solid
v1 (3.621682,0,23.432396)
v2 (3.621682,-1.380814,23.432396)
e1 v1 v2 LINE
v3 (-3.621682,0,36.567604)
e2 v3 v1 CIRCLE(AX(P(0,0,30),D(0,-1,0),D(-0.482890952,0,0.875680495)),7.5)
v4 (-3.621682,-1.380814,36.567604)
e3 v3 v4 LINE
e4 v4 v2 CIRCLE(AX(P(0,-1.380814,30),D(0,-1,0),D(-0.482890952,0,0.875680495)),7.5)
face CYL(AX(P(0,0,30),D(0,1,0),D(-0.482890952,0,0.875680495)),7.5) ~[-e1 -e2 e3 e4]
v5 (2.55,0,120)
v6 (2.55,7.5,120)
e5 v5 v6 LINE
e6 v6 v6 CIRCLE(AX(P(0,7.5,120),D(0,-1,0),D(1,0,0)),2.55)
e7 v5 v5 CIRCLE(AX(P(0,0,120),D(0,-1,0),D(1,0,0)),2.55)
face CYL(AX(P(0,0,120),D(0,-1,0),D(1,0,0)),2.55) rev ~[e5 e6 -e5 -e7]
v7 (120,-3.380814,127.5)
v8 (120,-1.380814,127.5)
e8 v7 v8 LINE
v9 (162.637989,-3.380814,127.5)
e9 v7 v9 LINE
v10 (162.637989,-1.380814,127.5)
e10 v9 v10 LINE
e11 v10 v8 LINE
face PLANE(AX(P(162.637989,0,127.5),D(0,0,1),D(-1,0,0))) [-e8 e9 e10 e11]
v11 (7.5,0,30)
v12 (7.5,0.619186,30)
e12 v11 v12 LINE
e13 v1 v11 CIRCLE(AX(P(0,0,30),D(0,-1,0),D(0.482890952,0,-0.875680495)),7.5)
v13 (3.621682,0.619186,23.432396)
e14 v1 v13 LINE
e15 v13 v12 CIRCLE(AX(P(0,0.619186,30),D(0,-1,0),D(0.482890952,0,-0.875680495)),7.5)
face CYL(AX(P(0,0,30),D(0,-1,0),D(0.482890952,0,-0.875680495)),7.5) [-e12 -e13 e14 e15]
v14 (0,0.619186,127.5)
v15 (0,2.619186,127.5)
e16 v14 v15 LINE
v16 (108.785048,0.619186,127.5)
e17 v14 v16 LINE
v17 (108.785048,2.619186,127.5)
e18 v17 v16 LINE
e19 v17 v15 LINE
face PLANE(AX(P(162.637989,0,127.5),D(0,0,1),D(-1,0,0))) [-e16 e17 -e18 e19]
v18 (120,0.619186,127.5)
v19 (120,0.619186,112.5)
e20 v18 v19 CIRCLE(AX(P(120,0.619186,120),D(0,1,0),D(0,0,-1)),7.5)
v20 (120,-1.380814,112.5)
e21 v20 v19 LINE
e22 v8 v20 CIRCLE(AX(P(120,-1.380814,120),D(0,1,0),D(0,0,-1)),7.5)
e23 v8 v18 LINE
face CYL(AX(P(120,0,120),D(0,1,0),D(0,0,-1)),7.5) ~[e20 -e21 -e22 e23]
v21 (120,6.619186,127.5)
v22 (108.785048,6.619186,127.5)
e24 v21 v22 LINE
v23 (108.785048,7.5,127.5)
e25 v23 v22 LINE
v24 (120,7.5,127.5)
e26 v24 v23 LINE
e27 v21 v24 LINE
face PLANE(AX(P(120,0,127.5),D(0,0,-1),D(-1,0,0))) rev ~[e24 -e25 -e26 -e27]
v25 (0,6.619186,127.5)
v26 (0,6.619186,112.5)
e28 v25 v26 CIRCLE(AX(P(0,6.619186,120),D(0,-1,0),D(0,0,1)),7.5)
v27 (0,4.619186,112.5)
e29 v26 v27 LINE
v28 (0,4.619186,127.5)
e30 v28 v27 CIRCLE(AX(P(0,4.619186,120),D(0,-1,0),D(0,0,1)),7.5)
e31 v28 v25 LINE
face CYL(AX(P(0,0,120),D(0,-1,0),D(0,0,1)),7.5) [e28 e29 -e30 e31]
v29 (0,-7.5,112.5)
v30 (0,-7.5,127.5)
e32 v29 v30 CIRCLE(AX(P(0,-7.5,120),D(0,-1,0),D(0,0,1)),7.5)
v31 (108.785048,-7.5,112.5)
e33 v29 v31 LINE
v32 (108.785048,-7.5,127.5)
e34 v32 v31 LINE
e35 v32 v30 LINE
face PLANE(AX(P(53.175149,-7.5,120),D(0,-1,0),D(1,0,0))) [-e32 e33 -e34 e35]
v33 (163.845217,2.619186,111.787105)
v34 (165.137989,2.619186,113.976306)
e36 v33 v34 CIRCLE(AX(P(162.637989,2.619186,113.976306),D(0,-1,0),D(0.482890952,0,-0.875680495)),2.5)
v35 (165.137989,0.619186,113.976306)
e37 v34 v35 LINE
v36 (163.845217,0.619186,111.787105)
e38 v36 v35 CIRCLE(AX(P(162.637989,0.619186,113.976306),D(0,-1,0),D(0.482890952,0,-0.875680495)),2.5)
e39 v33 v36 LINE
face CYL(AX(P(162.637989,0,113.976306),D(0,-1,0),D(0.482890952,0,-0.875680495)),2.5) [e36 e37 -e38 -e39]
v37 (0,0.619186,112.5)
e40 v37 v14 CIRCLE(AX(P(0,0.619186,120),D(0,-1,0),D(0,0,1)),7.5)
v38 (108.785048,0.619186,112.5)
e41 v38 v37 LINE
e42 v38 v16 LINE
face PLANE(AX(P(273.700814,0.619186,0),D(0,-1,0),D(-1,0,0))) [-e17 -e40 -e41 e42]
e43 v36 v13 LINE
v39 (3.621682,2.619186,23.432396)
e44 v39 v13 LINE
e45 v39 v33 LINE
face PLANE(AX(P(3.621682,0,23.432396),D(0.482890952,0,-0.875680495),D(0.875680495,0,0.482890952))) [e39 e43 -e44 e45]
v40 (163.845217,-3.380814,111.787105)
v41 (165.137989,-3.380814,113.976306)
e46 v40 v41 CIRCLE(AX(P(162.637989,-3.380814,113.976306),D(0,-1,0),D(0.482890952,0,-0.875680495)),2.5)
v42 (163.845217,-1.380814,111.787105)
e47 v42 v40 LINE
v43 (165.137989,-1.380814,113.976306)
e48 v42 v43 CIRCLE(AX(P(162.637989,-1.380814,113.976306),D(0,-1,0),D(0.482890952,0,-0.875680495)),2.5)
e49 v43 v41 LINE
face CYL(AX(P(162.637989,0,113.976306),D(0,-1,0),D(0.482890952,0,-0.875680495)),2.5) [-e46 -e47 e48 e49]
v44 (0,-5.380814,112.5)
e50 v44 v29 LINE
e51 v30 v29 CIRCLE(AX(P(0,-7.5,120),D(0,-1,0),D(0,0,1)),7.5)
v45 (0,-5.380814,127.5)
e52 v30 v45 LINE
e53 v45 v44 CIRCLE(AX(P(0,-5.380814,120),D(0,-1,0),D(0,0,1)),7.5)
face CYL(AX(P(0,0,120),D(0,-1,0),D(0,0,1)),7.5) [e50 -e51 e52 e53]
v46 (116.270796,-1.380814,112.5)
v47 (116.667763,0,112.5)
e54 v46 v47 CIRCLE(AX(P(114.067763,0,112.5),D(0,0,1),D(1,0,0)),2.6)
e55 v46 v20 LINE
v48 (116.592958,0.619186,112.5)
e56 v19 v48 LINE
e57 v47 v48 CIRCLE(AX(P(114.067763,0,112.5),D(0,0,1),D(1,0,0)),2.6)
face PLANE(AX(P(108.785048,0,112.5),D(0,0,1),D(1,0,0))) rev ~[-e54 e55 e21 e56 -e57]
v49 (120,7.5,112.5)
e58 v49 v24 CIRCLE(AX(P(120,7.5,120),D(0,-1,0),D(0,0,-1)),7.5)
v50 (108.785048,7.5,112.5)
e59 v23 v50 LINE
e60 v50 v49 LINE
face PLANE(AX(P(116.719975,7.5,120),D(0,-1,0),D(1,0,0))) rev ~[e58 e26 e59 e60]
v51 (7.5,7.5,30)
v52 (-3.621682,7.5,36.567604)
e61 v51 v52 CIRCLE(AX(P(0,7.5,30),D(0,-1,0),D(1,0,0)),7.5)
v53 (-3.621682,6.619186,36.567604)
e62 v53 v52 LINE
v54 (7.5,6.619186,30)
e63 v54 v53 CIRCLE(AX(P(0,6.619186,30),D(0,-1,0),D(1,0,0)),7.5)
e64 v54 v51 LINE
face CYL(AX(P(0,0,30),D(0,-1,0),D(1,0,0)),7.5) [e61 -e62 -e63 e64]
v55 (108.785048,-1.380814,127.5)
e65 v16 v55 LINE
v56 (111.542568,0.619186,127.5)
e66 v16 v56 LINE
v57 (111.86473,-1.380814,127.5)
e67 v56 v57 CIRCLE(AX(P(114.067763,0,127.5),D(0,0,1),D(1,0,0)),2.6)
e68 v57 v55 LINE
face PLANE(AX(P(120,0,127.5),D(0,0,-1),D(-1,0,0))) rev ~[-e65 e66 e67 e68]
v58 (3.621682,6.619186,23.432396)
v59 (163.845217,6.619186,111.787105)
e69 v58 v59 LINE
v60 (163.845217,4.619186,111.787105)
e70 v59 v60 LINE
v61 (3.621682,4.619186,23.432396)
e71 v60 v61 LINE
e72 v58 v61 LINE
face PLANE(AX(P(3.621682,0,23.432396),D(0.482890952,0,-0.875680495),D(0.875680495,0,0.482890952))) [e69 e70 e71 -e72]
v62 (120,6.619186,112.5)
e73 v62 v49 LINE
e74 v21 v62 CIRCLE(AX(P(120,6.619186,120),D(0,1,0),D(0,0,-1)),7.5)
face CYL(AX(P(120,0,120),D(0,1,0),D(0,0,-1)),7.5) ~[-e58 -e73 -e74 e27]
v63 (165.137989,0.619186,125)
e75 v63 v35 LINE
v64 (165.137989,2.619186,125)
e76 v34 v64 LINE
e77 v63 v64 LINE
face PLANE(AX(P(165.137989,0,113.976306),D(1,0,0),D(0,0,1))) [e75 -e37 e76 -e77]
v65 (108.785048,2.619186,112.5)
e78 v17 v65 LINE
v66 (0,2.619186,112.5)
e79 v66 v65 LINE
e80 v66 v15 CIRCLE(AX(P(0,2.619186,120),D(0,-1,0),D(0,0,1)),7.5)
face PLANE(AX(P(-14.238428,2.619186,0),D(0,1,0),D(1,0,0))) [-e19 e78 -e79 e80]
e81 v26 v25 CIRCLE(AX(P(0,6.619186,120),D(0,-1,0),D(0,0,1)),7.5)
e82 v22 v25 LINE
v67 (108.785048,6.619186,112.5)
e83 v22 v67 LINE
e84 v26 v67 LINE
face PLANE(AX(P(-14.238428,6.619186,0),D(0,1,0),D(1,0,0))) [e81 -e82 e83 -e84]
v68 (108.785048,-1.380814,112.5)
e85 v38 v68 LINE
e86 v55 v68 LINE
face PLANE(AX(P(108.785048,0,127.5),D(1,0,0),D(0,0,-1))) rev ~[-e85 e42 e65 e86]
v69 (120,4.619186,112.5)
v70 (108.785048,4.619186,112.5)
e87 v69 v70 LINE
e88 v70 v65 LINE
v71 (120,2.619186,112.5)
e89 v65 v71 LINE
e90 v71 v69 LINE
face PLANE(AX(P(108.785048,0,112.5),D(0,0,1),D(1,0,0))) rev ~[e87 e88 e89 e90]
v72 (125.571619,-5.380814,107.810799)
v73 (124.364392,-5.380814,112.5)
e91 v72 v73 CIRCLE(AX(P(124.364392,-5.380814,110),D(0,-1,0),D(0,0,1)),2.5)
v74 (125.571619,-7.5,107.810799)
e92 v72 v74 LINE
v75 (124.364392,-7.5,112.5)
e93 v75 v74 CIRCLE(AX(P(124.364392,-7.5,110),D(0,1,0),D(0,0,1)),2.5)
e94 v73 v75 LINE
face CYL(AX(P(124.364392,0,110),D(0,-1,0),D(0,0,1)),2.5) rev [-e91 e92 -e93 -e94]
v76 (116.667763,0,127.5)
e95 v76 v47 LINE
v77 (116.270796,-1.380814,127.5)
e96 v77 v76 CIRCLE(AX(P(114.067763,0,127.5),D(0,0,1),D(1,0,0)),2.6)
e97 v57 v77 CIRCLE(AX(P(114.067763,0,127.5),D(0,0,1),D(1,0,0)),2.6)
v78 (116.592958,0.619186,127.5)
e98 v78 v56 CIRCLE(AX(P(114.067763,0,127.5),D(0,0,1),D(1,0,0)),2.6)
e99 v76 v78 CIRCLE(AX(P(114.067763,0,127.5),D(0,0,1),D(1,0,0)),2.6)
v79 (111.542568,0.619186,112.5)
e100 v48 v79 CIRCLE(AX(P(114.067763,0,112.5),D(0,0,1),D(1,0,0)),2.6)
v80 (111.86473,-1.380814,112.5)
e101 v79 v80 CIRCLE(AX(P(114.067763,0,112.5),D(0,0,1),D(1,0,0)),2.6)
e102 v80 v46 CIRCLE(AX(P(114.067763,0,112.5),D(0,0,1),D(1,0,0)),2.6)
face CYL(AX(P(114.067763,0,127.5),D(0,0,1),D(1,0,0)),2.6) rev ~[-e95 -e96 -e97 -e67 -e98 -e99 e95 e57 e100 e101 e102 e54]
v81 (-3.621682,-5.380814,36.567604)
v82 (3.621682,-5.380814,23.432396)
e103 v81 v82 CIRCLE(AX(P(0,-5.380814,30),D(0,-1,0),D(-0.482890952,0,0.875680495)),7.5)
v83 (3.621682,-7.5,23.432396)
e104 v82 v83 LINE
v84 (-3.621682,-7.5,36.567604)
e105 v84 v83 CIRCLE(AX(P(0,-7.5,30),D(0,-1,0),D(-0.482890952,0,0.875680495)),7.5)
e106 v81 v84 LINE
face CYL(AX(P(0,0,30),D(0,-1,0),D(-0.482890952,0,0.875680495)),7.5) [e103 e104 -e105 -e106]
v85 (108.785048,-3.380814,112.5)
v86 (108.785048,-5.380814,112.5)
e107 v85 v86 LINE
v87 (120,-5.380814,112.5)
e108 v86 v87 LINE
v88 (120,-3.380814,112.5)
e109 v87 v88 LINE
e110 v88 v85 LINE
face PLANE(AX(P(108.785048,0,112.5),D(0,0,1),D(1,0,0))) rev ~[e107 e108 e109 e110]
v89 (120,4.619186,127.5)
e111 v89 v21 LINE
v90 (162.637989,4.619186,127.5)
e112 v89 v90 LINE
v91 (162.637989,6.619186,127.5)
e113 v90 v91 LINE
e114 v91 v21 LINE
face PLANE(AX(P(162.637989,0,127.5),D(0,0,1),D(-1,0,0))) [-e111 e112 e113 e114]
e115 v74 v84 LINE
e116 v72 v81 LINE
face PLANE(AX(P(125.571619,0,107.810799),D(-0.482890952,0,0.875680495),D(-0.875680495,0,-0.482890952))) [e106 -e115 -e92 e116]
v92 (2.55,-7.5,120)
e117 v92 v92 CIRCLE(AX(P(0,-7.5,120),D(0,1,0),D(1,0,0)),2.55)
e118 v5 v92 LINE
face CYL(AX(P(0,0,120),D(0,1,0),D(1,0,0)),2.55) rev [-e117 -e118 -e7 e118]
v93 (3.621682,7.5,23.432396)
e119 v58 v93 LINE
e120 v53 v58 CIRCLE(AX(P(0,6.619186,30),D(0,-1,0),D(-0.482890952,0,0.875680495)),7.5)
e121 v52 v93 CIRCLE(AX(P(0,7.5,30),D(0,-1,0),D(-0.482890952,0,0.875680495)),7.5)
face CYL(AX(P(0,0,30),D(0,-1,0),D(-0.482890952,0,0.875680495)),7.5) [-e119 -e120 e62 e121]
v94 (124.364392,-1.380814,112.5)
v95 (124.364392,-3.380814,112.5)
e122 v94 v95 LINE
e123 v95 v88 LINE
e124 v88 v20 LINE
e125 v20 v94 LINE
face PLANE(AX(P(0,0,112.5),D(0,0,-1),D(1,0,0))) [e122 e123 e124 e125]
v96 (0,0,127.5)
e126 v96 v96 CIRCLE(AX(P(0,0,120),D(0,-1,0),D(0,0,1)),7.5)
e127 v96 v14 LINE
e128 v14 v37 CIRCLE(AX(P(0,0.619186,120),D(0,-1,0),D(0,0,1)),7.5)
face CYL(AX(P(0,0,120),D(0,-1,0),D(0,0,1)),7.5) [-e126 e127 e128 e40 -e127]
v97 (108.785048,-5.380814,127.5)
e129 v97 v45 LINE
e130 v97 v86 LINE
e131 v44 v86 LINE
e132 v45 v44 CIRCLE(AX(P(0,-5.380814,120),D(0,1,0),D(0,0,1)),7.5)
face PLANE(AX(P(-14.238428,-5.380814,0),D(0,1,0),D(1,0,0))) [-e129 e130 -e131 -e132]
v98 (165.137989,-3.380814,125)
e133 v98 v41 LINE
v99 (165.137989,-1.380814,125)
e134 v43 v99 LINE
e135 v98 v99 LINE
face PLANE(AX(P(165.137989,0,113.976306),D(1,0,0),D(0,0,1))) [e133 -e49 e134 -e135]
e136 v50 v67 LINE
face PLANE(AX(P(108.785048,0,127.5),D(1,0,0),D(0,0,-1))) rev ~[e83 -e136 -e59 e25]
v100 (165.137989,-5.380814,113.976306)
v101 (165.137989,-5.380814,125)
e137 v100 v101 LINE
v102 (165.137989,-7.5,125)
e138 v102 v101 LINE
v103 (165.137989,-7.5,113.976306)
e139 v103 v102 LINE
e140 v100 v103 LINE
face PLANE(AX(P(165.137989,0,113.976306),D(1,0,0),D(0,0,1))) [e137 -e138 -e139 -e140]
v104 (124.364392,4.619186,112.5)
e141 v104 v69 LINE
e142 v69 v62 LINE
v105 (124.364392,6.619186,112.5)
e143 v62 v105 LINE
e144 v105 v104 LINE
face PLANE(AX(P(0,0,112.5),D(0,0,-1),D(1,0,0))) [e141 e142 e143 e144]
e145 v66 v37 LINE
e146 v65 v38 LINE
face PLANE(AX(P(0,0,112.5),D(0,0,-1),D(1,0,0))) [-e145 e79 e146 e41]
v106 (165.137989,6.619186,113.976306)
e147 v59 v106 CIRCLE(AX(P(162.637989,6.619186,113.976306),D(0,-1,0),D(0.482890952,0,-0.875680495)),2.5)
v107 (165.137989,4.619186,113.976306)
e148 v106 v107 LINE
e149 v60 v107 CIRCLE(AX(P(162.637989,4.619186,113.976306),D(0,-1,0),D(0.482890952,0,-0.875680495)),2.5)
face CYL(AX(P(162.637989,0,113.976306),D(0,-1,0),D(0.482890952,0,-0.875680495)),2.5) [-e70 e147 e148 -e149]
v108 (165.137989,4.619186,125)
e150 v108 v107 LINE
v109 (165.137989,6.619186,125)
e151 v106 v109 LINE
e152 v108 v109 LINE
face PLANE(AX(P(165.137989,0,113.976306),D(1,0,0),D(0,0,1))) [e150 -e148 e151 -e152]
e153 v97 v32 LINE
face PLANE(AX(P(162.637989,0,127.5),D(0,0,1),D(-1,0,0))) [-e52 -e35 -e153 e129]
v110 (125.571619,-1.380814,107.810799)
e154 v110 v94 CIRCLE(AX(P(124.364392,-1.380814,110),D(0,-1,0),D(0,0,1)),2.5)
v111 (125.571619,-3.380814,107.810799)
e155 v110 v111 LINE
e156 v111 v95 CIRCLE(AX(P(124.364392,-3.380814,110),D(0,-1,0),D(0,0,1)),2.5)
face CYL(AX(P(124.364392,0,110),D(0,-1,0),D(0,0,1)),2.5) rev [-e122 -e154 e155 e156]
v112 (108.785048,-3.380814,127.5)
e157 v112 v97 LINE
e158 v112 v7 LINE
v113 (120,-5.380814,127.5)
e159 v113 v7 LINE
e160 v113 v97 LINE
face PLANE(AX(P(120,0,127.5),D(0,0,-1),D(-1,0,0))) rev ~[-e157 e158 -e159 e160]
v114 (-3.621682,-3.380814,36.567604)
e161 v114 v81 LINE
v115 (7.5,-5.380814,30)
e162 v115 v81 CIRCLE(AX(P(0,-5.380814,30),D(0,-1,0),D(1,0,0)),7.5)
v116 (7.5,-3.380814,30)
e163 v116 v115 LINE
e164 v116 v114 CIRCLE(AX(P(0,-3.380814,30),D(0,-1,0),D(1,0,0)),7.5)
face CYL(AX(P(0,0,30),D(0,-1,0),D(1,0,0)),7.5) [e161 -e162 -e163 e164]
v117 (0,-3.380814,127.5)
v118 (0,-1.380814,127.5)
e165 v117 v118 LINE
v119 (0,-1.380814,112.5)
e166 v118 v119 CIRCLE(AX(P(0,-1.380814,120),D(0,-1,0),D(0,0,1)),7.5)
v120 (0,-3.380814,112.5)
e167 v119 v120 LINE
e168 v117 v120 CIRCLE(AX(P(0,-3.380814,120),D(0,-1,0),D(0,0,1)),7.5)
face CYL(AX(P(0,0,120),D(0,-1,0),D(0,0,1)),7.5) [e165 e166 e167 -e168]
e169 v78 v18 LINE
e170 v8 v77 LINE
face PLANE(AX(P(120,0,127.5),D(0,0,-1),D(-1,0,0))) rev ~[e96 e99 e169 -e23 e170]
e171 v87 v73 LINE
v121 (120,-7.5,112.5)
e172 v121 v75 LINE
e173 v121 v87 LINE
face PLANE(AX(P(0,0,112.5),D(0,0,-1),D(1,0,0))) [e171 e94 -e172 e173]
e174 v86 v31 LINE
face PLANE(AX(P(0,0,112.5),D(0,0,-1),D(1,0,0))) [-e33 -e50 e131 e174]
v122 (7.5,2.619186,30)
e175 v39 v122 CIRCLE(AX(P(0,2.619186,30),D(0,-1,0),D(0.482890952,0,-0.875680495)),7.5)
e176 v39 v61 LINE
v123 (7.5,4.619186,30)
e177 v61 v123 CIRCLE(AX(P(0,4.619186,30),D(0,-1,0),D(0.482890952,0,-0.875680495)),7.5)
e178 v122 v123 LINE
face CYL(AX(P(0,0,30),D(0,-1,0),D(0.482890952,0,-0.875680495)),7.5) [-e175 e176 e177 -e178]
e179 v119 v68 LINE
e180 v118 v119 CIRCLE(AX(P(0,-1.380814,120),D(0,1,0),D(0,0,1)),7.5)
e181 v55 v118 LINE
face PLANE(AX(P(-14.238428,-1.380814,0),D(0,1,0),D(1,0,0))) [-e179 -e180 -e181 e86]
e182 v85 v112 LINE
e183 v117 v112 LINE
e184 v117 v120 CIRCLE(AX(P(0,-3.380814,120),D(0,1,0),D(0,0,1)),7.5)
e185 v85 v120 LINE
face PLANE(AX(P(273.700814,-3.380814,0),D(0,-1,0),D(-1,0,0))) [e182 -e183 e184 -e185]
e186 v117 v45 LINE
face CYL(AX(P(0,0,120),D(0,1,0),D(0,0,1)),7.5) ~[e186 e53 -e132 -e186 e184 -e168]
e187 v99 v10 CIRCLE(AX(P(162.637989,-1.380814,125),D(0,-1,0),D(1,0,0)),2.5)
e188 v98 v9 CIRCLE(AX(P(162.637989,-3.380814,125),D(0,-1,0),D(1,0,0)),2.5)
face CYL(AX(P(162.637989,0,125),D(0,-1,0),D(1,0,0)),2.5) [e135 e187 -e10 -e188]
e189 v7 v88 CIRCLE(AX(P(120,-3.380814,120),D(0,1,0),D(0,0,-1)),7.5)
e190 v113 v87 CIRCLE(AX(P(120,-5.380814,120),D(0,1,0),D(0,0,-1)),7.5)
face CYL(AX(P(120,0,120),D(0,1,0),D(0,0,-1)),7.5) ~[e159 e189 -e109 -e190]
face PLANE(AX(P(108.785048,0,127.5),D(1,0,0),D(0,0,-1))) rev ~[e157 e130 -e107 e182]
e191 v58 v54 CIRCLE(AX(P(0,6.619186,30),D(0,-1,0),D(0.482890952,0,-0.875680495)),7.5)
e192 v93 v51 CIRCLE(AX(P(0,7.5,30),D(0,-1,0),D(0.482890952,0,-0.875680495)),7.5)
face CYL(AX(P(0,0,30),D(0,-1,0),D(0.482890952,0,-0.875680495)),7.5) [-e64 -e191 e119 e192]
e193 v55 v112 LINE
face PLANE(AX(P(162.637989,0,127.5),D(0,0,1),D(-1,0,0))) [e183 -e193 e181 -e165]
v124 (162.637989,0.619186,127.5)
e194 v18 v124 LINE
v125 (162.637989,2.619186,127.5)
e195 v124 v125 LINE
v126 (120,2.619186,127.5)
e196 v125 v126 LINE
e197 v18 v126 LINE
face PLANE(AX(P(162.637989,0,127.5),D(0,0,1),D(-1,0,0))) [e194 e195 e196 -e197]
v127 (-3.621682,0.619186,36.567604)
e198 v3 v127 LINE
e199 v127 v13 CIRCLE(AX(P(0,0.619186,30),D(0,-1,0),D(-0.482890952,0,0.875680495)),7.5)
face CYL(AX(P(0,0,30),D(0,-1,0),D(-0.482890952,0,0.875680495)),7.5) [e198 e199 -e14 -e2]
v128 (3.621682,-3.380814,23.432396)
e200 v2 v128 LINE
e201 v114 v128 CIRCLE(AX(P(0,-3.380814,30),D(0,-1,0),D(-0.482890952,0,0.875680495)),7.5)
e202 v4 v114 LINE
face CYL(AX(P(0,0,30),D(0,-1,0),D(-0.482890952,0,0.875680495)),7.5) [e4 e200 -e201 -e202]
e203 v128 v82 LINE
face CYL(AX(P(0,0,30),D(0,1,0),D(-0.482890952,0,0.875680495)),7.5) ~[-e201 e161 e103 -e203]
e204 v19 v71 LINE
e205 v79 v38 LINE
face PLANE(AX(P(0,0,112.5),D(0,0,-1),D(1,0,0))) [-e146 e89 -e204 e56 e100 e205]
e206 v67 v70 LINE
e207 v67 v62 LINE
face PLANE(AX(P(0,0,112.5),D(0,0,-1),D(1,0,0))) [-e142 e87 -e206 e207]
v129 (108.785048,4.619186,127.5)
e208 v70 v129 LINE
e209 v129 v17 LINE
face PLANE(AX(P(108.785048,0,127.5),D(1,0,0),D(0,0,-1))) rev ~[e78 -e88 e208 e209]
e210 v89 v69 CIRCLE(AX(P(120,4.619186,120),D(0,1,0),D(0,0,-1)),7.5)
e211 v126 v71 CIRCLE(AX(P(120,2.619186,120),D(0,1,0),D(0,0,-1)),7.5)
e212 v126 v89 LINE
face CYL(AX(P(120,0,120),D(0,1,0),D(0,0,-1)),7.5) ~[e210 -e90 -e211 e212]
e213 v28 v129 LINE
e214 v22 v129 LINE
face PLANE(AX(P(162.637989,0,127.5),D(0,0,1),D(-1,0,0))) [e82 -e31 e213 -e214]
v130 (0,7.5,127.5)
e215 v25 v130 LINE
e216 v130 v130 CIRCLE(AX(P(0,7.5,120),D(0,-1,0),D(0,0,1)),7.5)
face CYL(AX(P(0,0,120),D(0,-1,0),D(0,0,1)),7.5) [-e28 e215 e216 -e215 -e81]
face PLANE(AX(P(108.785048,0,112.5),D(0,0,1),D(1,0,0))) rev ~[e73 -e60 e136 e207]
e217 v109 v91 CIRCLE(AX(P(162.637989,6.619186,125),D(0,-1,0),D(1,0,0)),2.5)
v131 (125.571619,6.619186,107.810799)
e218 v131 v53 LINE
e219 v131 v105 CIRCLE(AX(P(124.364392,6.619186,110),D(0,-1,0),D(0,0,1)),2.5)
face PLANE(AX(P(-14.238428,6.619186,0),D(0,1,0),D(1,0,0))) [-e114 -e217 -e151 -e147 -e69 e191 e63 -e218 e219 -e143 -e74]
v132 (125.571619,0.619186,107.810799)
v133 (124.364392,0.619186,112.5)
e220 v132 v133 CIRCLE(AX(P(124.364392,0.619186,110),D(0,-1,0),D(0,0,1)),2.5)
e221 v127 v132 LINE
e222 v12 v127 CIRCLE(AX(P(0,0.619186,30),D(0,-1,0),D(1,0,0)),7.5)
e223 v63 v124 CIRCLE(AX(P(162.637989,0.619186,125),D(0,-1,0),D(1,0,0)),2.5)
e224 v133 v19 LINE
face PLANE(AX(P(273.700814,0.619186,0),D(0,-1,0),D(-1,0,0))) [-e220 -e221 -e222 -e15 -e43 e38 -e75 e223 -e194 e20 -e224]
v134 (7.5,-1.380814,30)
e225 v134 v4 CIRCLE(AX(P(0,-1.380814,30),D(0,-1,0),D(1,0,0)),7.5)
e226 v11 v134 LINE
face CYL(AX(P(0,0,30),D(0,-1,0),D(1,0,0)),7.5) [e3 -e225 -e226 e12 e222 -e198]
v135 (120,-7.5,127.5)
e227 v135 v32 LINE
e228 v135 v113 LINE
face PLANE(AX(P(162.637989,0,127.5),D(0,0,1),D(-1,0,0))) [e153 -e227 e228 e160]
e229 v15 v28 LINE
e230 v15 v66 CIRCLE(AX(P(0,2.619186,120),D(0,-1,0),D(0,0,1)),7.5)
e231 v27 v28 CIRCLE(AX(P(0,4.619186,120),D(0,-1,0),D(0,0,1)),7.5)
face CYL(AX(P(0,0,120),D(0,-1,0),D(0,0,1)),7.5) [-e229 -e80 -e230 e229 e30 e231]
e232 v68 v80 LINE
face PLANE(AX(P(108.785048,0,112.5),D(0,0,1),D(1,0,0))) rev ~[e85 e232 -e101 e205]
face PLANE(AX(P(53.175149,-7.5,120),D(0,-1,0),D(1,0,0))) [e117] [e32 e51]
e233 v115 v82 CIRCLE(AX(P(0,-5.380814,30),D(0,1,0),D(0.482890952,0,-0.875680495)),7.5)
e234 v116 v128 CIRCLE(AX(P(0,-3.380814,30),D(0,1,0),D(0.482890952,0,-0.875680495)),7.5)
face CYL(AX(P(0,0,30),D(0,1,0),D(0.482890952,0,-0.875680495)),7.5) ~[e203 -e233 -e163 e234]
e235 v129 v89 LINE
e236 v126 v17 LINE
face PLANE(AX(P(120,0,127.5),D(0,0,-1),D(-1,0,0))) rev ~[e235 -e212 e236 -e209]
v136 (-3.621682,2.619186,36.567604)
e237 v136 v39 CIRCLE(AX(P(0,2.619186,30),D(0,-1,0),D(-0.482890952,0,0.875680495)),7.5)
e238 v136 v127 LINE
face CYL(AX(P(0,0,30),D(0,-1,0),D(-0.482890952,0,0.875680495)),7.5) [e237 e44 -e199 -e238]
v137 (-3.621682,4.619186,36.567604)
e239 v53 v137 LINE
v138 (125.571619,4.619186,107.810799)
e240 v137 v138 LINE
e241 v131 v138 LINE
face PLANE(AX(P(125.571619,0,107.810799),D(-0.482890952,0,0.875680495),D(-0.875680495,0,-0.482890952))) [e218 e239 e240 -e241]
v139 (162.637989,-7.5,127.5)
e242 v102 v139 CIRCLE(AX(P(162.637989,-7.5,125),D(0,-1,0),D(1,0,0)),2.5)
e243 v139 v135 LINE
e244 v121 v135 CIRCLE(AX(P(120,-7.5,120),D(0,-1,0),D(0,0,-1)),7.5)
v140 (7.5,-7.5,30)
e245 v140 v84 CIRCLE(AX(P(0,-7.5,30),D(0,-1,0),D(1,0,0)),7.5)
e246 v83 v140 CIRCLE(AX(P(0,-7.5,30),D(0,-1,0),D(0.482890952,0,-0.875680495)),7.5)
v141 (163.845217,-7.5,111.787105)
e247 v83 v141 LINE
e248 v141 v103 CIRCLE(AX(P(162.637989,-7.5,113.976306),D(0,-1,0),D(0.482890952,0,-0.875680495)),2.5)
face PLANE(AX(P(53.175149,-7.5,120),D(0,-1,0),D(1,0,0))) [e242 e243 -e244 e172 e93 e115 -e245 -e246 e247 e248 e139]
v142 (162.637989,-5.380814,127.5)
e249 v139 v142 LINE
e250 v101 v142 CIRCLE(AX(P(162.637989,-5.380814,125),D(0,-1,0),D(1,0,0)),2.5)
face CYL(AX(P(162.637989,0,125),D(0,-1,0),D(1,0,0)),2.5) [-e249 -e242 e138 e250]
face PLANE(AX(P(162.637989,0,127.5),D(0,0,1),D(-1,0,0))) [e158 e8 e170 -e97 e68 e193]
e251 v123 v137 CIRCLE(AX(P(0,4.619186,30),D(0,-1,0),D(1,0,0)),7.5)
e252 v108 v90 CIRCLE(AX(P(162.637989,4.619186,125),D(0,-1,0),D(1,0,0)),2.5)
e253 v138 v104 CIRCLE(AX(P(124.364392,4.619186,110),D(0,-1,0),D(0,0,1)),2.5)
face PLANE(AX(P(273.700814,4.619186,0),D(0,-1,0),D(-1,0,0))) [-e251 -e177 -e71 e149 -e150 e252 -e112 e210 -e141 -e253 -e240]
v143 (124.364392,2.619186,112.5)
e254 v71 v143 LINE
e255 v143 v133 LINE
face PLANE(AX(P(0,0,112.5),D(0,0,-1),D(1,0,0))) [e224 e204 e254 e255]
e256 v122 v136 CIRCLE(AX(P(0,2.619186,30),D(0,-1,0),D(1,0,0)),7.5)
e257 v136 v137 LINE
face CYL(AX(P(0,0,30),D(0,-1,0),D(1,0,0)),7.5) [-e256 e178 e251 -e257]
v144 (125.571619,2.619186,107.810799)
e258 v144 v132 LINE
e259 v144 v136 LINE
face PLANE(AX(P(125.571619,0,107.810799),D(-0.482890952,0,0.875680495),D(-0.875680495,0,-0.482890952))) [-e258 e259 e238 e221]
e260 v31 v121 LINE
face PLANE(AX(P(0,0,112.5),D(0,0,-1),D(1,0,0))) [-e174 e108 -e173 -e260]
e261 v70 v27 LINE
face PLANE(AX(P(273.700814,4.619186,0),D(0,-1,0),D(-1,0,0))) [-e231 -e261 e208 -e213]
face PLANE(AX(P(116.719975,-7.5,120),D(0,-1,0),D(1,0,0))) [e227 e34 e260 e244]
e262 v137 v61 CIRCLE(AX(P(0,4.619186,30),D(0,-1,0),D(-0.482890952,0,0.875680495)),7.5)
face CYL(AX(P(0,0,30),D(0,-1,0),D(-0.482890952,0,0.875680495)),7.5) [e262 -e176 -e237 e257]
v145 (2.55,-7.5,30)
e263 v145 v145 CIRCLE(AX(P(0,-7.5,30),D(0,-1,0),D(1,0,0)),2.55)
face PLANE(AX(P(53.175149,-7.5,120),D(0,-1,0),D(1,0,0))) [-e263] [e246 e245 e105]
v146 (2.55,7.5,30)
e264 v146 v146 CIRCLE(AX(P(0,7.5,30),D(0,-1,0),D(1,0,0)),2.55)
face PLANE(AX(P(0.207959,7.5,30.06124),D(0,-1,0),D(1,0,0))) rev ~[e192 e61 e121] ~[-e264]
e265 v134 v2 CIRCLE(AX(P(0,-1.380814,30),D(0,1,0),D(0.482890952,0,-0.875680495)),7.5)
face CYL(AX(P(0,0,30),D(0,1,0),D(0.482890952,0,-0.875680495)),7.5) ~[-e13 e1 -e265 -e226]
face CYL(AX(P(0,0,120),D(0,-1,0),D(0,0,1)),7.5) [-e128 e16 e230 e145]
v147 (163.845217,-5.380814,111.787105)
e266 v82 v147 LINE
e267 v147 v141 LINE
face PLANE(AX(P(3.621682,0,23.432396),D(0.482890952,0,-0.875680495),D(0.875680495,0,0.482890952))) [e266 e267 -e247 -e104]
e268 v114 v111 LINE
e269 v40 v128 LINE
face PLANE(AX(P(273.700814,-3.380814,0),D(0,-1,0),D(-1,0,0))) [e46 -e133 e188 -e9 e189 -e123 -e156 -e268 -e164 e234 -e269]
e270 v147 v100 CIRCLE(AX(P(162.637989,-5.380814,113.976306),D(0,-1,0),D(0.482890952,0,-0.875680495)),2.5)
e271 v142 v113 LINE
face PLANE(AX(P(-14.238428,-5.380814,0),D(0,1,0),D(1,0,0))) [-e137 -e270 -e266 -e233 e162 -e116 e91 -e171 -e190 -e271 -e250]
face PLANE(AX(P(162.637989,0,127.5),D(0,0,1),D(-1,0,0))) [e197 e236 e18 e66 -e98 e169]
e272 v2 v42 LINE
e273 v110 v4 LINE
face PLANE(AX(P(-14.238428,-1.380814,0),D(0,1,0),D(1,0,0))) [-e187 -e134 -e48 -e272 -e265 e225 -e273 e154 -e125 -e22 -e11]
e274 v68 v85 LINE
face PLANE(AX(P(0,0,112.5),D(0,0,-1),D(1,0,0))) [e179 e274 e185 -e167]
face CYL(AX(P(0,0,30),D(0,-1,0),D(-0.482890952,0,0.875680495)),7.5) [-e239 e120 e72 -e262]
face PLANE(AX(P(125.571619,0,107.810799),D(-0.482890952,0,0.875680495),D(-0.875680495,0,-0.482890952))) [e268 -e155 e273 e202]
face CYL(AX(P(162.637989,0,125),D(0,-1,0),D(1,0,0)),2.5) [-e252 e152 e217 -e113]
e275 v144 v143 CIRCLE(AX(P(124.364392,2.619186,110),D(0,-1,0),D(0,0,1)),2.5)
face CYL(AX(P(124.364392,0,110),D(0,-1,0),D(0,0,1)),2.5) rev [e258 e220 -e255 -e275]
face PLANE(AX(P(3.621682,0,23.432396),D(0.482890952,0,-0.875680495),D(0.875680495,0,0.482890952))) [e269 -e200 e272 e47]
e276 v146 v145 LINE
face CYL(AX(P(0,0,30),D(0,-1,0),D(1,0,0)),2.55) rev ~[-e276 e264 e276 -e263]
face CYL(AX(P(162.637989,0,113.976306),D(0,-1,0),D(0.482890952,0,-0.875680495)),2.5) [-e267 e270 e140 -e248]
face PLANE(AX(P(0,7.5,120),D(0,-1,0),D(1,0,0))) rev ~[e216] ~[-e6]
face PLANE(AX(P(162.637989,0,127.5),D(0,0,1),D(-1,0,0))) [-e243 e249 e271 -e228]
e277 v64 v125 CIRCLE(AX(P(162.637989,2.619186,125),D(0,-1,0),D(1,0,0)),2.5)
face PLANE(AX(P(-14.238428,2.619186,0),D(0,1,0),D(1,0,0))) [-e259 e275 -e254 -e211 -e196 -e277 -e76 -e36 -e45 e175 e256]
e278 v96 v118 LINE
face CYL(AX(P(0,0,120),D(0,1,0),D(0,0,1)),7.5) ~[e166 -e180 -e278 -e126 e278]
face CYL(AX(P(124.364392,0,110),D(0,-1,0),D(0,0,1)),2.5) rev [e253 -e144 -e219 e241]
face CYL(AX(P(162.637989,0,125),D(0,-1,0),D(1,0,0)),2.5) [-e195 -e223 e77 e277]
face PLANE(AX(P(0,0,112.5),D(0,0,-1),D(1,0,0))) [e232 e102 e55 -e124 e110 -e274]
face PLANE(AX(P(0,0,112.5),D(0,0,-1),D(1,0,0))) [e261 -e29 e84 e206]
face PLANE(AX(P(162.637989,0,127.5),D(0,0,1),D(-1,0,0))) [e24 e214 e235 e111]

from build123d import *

# Parameters (mm, degrees)
F1_DEPTH = 7.5
F2_W     = 25
F2_H     = 2
F2_W_2   = 87.9392416629
F3_DEPTH = 127.501
F4_DEPTH = 7.5
F5_D     = 3
F5_DEPTH = 13.5
F5_TIP   = 0.9012909285
F7_R     = 2.6
F8_DEPTH = 15
F6_R     = 2.55
F9_DEPTH = 12.5


with BuildPart() as f1:
    # F0 (on Front) → F1 (new body, symmetric)
    with BuildSketch(Plane.XZ):
        with BuildLine():
            ThreePointArc((0, 127.5), (5.3033008589, 125.3033008589), (7.5, 120))
            ThreePointArc((7.5, 120), (5.3033008589, 114.6966991411), (0, 112.5))
            Line((0, 112.5), (108.7850481272, 112.5))
            Line((108.7850481272, 112.5), (108.7850481272, 127.5))
            Line((108.7850481272, 127.5), (0, 127.5))
        make_face()
        with BuildLine():
            Line((120, 127.5), (108.7850481272, 127.5))
            Line((108.7850481272, 127.5), (108.7850481272, 112.5))
            Line((108.7850481272, 112.5), (120, 112.5))
            ThreePointArc((120, 112.5), (127.5, 120), (120, 127.5))
        make_face()
        with BuildLine():
            ThreePointArc((0, 112.5), (5.3033008589, 114.6966991411), (7.5, 120))
            ThreePointArc((7.5, 120), (5.3033008589, 125.3033008589), (0, 127.5))
            ThreePointArc((0, 127.5), (-7.5, 120), (0, 112.5))
        make_face()
        with BuildLine():
            Line((162.6379891518, 127.5), (120, 127.5))
            ThreePointArc((120, 127.5), (127.5, 120), (120, 112.5))
            Line((120, 112.5), (124.3643918131, 112.5))
            ThreePointArc((124.3643918131, 112.5), (126.7854456219, 110.6232964421), (125.5716191931, 107.8107987637))
            Line((125.5716191931, 107.8107987637), (-3.6216821402, 36.5676037088))
            ThreePointArc((-3.6216821402, 36.5676037088), (3.813619275, 36.4580421202), (7.5, 30))
            ThreePointArc((7.5, 30), (6.4580421202, 26.186380725), (3.6216821402, 23.4323962912))
            Line((3.6216821402, 23.4323962912), (163.8452165318, 111.7871050513))
            ThreePointArc((163.8452165318, 111.7871050513), (164.7906698585, 112.7050998626), (165.1379891518, 113.9763062876))
            Line((165.1379891518, 113.9763062876), (165.1379891518, 125))
            ThreePointArc((165.1379891518, 125), (164.4057561047, 126.767766953), (162.6379891518, 127.5))
        make_face()
        with BuildLine():
            ThreePointArc((7.5, 30), (3.813619275, 36.4580421202), (-3.6216821402, 36.5676037088))
            ThreePointArc((-3.6216821402, 36.5676037088), (-6.5676037088, 26.3783178598), (3.6216821402, 23.4323962912))
            ThreePointArc((3.6216821402, 23.4323962912), (6.4580421202, 26.186380725), (7.5, 30))
        make_face()
    extrude(amount=F1_DEPTH, both=True)

    # F2 (on Top) → F3 (cut, through all)
    with BuildSketch(Plane.XY):
        with Locations((23.2615718412, 7.6191863865)):
            Rectangle(F2_W, F2_H)
        with Locations((-1.7384281588, 7.6191863865)):
            Rectangle(F2_W, F2_H)
        with Locations((261.2008135041, 7.6191863865)):
            Rectangle(F2_W, F2_H)
        with Locations((211.2008135041, 7.6191863865)):
            Rectangle(F2_W, F2_H)
        with Locations((48.2615718412, 7.6191863865)):
            Rectangle(F2_W, F2_H)
        with Locations((236.2008135041, 7.6191863865)):
            Rectangle(F2_W, F2_H)
        with Locations((186.2008135041, 7.6191863865)):
            Rectangle(F2_W, F2_H)
        with Locations((129.7311926726, 7.6191863865)):
            Rectangle(F2_W_2, F2_H)
        with Locations((73.2615718412, 7.6191863865)):
            Rectangle(F2_W, F2_H)
        with Locations((48.2615718412, 3.6191863865)):
            Rectangle(F2_W, F2_H)
        with Locations((73.2615718412, 3.6191863865)):
            Rectangle(F2_W, F2_H)
        with Locations((-1.7384281588, 3.6191863865)):
            Rectangle(F2_W, F2_H)
        with Locations((261.2008135041, 3.6191863865)):
            Rectangle(F2_W, F2_H)
        with Locations((23.2615718412, 3.6191863865)):
            Rectangle(F2_W, F2_H)
        with Locations((236.2008135041, 3.6191863865)):
            Rectangle(F2_W, F2_H)
        with Locations((129.7311926726, 3.6191863865)):
            Rectangle(F2_W_2, F2_H)
        with Locations((186.2008135041, 3.6191863865)):
            Rectangle(F2_W, F2_H)
        with Locations((211.2008135041, 3.6191863865)):
            Rectangle(F2_W, F2_H)
        with Locations((261.2008135041, -0.3808136135)):
            Rectangle(F2_W, F2_H)
        with Locations((129.7311926726, -0.3808136135)):
            Rectangle(F2_W_2, F2_H)
        with Locations((48.2615718412, -0.3808136135)):
            Rectangle(F2_W, F2_H)
        with Locations((73.2615718412, -0.3808136135)):
            Rectangle(F2_W, F2_H)
        with Locations((-1.7384281588, -0.3808136135)):
            Rectangle(F2_W, F2_H)
        with Locations((23.2615718412, -0.3808136135)):
            Rectangle(F2_W, F2_H)
        with Locations((236.2008135041, -0.3808136135)):
            Rectangle(F2_W, F2_H)
        with Locations((186.2008135041, -0.3808136135)):
            Rectangle(F2_W, F2_H)
        with Locations((211.2008135041, -0.3808136135)):
            Rectangle(F2_W, F2_H)
        with Locations((236.2008135041, -4.3808136135)):
            Rectangle(F2_W, F2_H)
        with Locations((261.2008135041, -4.3808136135)):
            Rectangle(F2_W, F2_H)
        with Locations((48.2615718412, -4.3808136135)):
            Rectangle(F2_W, F2_H)
        with Locations((73.2615718412, -4.3808136135)):
            Rectangle(F2_W, F2_H)
        with Locations((129.7311926726, -4.3808136135)):
            Rectangle(F2_W_2, F2_H)
        with Locations((186.2008135041, -4.3808136135)):
            Rectangle(F2_W, F2_H)
        with Locations((211.2008135041, -4.3808136135)):
            Rectangle(F2_W, F2_H)
        with Locations((23.2615718412, -4.3808136135)):
            Rectangle(F2_W, F2_H)
        with Locations((-1.7384281588, -4.3808136135)):
            Rectangle(F2_W, F2_H)
    extrude(amount=F3_DEPTH, mode=Mode.SUBTRACT)

    # F0 (on Front) → F4 (join, symmetric)
    with BuildSketch(Plane.XZ):
        with BuildLine():
            ThreePointArc((0, 112.5), (5.3033008589, 114.6966991411), (7.5, 120))
            ThreePointArc((7.5, 120), (5.3033008589, 125.3033008589), (0, 127.5))
            ThreePointArc((0, 127.5), (-7.5, 120), (0, 112.5))
        make_face()
        with BuildLine():
            Line((120, 127.5), (108.7850481272, 127.5))
            Line((108.7850481272, 127.5), (108.7850481272, 112.5))
            Line((108.7850481272, 112.5), (120, 112.5))
            ThreePointArc((120, 112.5), (127.5, 120), (120, 127.5))
        make_face()
        with BuildLine():
            ThreePointArc((7.5, 30), (3.813619275, 36.4580421202), (-3.6216821402, 36.5676037088))
            ThreePointArc((-3.6216821402, 36.5676037088), (-6.5676037088, 26.3783178598), (3.6216821402, 23.4323962912))
            ThreePointArc((3.6216821402, 23.4323962912), (6.4580421202, 26.186380725), (7.5, 30))
        make_face()
    extrude(amount=F4_DEPTH, both=True)

    # F5 (one way)
    with BuildSketch(Plane.XZ):
        with Locations((0, 120), (0, 30)):
            Circle(F5_D / 2)
    extrude(amount=-F5_DEPTH, mode=Mode.SUBTRACT)
    with Locations(Plane.XZ):
        with Locations((0, 120), (0, 30)):
            with Locations((0, 0, -(F5_DEPTH + F5_TIP / 2))):  # 118° drill point
                Cone(0, F5_D / 2, F5_TIP, mode=Mode.SUBTRACT)

    # F7 (on face) → F8 (cut, through all)
    with BuildSketch(Plane.XY.offset(127.5)):
        with Locations((114.0677630901, 0)):
            Circle(F7_R)
    extrude(amount=-F8_DEPTH, mode=Mode.SUBTRACT)

    # F6 (on Front) → F9 (cut, symmetric)
    with BuildSketch(Plane.XZ):
        with Locations((0, 120)):
            Circle(F6_R)
        with Locations((0, 30)):
            Circle(F6_R)
    extrude(amount=F9_DEPTH, both=True, mode=Mode.SUBTRACT)


solid = f1.part
